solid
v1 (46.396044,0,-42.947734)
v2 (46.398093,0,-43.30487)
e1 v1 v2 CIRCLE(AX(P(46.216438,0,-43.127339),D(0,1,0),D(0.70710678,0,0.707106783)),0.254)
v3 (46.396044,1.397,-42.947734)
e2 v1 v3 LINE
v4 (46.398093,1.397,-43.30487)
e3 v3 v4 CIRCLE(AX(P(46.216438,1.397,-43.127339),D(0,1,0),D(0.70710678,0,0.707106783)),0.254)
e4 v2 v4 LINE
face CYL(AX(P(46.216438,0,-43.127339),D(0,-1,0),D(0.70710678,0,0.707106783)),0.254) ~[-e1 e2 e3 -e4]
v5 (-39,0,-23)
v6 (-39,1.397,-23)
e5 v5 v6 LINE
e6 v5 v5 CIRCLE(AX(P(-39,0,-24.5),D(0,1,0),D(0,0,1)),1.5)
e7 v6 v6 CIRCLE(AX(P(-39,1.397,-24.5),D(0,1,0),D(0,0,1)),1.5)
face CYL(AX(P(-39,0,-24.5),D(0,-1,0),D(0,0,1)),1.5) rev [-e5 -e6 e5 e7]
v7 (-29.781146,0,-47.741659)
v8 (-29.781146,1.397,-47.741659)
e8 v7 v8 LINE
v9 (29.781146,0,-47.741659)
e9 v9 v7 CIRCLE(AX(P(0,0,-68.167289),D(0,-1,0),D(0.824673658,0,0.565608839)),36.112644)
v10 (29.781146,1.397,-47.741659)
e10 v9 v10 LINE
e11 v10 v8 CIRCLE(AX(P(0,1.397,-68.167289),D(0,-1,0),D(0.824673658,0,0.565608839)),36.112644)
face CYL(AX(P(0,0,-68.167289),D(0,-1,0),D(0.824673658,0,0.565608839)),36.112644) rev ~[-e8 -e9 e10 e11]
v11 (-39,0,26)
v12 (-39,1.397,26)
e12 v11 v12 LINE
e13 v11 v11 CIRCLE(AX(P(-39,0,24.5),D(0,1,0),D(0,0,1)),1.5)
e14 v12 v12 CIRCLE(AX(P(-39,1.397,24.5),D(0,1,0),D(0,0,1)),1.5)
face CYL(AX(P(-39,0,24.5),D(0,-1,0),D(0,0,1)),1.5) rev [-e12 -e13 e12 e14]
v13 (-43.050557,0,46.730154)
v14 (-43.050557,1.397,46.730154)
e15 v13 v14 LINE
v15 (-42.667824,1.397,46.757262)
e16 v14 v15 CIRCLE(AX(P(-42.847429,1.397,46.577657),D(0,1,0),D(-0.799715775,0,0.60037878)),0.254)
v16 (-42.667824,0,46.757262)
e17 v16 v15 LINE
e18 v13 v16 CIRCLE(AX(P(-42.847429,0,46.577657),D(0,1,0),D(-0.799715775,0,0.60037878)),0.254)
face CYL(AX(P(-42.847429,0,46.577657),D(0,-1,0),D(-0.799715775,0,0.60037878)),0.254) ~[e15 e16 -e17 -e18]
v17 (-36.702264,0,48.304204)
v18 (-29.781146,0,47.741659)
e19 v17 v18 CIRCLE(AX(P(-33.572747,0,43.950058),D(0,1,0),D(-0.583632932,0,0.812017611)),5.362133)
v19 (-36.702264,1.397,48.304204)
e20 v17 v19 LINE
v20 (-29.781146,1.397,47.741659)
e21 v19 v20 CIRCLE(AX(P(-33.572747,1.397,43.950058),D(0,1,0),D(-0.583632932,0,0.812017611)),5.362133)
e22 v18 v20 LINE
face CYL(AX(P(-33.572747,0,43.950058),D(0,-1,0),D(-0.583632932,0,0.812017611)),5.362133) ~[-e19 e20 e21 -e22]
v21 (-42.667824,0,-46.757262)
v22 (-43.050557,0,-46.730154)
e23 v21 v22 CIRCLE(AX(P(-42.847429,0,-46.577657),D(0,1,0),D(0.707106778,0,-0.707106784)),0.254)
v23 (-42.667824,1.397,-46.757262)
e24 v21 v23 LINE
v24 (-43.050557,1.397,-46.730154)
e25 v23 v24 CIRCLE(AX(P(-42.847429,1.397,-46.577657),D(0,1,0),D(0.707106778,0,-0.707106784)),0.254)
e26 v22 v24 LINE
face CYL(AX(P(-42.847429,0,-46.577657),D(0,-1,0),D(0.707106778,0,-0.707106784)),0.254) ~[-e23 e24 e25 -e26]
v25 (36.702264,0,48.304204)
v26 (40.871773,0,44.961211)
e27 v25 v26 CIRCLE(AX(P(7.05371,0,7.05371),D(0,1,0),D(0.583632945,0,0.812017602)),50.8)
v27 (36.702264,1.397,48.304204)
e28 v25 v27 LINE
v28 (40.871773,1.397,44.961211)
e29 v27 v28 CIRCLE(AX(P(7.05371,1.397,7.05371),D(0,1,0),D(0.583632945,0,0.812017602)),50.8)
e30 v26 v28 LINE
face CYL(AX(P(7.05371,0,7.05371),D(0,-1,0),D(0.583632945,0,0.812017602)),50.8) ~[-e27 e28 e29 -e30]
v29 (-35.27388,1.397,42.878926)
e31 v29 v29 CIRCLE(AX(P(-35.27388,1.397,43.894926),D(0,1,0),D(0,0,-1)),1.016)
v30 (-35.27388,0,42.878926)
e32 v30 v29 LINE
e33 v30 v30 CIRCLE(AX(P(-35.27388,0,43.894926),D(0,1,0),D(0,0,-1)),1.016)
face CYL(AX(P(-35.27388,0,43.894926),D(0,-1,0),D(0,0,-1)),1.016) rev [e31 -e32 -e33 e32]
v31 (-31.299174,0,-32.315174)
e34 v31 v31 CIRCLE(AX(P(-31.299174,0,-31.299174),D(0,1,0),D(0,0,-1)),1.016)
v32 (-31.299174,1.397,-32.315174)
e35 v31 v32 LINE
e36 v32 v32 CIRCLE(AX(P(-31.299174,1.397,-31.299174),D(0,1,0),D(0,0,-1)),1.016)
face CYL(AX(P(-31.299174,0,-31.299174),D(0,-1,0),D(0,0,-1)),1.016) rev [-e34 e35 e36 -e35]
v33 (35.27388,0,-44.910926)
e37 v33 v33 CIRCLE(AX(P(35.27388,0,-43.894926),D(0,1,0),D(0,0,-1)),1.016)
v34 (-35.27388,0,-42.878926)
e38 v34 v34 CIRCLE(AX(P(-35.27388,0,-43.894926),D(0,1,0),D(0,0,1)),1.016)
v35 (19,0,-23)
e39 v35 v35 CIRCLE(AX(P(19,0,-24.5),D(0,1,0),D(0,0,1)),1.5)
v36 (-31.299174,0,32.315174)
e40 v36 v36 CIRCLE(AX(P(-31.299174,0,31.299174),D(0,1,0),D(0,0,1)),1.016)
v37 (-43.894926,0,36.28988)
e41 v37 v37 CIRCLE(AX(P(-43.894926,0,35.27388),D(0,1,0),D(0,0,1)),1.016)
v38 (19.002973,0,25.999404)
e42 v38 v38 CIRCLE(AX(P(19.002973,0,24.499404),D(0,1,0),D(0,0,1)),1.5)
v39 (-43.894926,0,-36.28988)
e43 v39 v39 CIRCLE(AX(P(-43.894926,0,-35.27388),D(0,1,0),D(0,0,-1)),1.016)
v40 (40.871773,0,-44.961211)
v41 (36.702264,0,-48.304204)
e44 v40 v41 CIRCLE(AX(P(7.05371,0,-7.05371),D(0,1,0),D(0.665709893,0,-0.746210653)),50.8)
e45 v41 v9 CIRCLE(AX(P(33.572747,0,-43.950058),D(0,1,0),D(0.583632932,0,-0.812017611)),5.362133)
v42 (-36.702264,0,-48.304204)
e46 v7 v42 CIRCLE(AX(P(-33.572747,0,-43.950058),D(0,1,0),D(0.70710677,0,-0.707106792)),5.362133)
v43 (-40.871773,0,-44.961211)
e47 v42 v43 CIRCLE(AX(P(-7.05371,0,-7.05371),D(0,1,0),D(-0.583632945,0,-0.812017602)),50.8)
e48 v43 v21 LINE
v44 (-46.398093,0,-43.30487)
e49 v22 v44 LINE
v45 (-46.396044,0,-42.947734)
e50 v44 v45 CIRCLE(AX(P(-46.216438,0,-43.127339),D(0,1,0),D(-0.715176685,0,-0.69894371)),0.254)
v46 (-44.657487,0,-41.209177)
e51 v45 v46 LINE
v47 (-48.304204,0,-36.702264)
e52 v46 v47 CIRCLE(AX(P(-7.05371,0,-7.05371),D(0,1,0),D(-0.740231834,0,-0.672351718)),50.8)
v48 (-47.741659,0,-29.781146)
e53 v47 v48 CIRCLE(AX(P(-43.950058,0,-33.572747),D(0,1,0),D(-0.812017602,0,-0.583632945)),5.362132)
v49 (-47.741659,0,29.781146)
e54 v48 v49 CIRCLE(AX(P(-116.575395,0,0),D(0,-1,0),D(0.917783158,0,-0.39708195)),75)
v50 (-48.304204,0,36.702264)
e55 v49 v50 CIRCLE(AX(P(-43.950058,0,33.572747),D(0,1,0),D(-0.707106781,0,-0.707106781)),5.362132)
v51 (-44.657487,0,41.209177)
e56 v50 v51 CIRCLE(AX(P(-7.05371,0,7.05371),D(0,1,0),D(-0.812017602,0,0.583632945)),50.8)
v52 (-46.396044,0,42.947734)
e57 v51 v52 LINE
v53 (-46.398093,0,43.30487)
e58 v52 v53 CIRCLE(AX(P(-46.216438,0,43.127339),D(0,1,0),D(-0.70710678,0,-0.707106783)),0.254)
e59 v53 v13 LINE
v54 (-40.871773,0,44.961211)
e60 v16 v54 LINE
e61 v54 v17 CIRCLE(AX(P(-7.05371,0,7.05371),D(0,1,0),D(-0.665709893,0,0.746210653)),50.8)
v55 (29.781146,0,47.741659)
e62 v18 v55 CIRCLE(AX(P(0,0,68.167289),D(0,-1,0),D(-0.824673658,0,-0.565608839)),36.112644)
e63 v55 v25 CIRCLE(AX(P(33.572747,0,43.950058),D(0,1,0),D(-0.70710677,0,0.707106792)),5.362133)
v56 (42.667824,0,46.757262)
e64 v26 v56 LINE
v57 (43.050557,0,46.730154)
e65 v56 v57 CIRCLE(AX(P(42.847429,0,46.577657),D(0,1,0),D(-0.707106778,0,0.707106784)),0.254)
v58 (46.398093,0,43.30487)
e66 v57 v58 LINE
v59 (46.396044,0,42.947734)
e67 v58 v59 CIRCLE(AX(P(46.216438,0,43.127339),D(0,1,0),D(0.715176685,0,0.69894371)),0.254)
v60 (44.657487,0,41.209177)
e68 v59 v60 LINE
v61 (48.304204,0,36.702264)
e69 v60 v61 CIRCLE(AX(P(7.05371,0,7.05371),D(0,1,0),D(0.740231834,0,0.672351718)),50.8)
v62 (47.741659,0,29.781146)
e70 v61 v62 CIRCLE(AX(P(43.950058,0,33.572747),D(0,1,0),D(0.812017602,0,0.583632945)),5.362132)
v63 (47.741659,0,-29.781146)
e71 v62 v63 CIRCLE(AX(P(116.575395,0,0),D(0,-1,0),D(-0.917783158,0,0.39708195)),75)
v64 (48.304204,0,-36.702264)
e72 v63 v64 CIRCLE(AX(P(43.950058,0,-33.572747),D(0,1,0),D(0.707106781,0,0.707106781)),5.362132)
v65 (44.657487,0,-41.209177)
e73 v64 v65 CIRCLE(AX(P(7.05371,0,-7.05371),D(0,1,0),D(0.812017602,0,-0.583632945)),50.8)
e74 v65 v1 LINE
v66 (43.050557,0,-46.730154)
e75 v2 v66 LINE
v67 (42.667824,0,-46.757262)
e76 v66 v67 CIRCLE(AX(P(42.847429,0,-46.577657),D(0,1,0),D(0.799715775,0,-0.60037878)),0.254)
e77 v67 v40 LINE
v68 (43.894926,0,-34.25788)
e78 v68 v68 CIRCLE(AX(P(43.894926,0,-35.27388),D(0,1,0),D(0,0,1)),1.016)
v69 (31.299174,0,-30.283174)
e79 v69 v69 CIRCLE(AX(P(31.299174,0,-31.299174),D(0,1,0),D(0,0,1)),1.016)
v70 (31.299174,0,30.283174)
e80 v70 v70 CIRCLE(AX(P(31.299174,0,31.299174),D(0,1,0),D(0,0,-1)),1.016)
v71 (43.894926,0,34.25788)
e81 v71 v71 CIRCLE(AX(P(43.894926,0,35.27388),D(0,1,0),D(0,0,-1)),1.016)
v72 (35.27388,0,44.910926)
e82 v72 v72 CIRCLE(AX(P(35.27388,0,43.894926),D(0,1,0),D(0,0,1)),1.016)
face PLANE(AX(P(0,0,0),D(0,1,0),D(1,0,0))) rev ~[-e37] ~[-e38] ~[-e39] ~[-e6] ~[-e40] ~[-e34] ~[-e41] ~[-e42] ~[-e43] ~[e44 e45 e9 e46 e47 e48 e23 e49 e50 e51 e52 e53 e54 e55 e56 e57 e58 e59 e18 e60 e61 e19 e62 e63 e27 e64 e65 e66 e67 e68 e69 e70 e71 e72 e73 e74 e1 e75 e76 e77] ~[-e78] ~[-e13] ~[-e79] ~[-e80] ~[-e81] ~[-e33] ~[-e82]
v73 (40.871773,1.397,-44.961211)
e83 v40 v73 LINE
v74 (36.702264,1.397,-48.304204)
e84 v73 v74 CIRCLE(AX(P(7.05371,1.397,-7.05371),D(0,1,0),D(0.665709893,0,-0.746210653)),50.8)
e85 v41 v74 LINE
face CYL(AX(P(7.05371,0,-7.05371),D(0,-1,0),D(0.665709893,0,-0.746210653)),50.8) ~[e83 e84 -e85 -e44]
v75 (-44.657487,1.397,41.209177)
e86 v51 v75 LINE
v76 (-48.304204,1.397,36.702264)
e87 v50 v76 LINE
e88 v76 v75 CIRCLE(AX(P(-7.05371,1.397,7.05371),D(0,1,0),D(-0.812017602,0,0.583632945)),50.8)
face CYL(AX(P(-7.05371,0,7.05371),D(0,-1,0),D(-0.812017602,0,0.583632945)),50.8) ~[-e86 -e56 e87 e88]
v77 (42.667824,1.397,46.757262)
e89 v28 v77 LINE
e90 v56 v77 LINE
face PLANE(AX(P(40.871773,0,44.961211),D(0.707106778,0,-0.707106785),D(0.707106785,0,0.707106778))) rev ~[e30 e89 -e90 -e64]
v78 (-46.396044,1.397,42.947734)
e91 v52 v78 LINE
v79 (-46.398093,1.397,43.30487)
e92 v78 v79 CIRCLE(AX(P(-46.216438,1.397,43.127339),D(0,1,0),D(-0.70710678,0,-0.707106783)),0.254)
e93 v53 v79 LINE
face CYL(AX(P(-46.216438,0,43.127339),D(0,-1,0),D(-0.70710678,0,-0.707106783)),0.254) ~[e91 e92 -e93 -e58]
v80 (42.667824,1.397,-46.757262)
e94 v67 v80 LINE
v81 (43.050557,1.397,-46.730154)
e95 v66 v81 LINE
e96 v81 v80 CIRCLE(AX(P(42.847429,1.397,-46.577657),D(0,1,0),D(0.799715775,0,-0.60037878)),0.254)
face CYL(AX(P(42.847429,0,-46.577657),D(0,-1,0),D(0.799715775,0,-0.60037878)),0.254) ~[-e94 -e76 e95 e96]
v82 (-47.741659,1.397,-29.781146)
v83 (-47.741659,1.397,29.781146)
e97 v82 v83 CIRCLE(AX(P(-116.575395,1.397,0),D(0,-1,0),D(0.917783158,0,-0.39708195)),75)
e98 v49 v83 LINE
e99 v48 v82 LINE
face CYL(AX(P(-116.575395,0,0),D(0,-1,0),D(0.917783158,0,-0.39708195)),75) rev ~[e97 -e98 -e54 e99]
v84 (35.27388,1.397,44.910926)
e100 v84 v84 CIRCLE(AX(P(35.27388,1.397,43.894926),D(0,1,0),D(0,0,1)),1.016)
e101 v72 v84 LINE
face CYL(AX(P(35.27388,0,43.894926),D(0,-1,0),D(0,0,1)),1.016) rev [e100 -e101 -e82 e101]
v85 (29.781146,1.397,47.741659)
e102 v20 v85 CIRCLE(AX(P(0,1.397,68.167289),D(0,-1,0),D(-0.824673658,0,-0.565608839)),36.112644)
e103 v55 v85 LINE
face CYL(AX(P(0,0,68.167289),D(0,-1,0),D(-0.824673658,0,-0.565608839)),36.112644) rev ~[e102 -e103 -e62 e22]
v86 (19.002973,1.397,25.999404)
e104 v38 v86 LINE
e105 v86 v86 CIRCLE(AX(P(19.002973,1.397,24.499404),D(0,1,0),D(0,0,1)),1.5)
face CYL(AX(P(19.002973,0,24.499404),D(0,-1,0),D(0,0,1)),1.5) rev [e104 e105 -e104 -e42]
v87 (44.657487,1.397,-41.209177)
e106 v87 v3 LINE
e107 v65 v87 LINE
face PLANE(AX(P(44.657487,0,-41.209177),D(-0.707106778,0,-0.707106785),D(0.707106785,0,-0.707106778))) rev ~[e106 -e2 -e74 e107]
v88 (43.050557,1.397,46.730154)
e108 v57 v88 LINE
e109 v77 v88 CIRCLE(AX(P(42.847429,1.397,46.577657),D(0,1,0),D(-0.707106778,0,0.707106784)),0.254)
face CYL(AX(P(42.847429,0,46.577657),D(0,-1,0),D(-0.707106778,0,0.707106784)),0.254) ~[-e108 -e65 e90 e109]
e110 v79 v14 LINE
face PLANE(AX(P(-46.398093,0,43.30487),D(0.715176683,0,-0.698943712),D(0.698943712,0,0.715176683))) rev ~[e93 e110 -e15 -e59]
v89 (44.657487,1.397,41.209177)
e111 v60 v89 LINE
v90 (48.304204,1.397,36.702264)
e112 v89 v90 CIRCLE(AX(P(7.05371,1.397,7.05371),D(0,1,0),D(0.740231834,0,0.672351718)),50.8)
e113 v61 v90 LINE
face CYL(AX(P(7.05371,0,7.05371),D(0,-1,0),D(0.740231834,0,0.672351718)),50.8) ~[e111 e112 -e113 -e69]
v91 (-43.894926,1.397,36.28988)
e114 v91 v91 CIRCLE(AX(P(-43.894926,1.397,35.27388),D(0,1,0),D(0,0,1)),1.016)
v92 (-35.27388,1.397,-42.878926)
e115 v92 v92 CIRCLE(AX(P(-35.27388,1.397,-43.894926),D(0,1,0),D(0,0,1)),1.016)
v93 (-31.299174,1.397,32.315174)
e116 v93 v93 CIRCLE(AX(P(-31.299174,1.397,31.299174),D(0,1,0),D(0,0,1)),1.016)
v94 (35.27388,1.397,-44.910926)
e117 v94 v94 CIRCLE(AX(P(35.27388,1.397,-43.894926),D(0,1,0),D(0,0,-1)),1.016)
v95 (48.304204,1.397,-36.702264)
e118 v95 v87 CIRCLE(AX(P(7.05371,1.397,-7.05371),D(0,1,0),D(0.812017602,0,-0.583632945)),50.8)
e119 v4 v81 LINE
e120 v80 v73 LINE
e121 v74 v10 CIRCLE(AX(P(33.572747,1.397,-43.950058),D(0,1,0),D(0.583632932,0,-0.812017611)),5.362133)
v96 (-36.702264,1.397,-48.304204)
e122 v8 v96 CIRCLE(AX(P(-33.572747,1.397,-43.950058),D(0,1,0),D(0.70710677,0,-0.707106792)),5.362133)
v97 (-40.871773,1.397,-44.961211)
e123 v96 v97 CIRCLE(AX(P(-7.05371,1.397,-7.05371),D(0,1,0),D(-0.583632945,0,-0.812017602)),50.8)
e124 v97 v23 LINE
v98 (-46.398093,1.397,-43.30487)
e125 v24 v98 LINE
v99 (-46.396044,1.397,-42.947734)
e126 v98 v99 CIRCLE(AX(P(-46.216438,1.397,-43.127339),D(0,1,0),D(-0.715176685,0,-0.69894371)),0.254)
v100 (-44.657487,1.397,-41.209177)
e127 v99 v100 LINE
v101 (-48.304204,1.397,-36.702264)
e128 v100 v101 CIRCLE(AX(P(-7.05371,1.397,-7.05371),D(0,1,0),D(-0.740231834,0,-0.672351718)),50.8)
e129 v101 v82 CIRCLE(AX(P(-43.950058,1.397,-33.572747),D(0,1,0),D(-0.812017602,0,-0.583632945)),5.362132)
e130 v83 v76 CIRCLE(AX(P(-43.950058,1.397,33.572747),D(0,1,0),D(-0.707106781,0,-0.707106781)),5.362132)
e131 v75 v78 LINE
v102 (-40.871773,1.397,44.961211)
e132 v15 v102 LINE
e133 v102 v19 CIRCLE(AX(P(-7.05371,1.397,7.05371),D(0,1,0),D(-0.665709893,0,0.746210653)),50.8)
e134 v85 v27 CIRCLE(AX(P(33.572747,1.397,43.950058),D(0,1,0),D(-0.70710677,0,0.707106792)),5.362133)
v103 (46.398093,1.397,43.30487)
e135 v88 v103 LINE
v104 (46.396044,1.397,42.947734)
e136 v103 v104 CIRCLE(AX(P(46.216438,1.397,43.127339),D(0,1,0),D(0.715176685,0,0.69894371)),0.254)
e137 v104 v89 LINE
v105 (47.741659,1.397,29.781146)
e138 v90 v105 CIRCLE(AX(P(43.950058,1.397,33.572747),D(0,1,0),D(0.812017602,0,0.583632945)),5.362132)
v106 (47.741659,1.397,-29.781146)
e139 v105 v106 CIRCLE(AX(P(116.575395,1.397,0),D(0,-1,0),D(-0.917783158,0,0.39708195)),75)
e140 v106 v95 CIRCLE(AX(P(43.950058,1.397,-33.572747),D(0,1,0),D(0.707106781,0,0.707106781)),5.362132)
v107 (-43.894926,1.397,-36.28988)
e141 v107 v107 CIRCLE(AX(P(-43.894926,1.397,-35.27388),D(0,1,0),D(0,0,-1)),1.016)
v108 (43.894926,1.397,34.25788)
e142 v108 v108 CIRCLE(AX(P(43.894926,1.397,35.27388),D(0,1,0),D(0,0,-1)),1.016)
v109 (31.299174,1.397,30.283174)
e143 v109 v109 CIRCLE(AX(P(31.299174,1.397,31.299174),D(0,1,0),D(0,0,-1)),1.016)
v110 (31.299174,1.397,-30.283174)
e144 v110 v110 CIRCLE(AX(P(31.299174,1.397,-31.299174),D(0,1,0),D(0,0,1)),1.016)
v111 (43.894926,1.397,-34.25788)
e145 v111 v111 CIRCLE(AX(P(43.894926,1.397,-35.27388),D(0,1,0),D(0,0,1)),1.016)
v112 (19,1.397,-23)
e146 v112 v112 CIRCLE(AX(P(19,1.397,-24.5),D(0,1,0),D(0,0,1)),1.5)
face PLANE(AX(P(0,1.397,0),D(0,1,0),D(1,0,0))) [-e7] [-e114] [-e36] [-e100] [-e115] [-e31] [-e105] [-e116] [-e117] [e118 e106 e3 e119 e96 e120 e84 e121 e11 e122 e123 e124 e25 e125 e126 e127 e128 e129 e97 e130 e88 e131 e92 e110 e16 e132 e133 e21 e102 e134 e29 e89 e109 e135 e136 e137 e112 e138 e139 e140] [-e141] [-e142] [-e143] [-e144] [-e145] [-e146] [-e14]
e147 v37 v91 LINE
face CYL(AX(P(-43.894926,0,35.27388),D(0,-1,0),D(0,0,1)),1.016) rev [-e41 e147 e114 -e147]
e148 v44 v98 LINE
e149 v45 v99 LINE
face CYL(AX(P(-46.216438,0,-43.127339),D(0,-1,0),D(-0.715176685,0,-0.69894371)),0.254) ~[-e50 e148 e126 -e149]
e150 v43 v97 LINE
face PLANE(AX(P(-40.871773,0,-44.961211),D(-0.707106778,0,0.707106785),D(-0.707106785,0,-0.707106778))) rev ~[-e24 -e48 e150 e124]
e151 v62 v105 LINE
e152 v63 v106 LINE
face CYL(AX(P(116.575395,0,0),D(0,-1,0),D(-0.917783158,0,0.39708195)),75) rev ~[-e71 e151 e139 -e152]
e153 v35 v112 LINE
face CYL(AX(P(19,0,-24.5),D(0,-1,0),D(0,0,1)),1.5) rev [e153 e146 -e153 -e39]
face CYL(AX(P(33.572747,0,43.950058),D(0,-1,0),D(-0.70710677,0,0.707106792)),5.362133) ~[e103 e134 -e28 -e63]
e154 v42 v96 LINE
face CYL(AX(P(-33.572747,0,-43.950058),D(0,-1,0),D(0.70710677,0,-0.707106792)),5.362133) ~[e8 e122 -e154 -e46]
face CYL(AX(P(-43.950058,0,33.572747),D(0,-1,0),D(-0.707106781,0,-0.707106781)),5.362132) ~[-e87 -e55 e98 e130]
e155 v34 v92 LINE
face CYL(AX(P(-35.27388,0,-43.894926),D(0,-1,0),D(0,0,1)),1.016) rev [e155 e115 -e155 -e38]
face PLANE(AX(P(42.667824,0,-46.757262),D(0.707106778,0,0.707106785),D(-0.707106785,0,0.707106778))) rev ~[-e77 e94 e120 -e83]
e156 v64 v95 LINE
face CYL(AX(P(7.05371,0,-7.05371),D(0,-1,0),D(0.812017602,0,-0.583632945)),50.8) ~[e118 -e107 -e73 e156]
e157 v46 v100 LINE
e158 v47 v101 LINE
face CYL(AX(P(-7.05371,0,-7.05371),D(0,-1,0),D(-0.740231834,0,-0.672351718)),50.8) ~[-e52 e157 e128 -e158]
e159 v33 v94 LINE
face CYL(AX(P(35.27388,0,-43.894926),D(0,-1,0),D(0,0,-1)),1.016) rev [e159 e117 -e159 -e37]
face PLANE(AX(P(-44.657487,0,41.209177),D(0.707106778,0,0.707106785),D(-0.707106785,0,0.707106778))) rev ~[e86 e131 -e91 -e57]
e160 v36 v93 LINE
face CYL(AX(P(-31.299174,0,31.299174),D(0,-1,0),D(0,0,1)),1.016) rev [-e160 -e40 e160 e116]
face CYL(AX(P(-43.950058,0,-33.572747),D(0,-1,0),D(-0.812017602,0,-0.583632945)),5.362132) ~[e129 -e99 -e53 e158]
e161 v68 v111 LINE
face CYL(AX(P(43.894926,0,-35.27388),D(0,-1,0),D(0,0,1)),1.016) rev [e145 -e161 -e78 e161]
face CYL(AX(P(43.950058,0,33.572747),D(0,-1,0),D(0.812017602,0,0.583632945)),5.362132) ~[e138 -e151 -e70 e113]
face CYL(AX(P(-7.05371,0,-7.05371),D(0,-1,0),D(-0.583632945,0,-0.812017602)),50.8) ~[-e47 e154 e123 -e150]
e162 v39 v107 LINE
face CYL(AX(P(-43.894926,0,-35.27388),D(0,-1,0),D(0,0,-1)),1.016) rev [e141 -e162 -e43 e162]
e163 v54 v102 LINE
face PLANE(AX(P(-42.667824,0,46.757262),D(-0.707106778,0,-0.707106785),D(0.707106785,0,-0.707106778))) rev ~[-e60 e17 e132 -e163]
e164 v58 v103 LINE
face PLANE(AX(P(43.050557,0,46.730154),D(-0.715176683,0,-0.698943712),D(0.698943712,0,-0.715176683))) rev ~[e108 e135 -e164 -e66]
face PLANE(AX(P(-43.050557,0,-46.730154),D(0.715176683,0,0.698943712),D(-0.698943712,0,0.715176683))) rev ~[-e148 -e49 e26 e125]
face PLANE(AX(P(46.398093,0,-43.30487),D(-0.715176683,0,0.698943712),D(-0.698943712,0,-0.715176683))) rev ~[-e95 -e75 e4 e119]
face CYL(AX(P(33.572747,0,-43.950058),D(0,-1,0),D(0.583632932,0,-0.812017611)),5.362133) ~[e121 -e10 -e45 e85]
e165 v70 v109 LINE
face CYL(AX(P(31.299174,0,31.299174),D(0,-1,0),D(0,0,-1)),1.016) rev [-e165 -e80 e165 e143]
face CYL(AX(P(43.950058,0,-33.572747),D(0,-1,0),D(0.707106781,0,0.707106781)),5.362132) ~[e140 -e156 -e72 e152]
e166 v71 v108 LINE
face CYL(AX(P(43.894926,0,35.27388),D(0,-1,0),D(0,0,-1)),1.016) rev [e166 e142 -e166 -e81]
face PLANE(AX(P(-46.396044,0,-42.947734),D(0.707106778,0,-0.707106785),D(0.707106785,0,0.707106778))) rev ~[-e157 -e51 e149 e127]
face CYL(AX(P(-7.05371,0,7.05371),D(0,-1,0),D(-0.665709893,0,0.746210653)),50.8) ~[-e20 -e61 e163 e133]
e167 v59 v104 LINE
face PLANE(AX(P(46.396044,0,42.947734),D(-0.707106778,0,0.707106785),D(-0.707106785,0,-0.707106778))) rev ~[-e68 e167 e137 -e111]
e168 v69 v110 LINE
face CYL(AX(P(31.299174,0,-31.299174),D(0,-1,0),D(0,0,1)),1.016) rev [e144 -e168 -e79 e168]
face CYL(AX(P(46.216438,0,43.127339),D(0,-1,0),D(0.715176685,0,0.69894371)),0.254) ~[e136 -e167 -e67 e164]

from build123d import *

# Parameters (mm, degrees)
SKETCH1_R           = 1.015999988
SKETCH1_R_2         = 1.5
BOSS_EXTRUDE1_DEPTH = 1.397


with BuildPart() as part:
    # Sketch1 → Boss-Extrude1 (new body)
    with BuildSketch(Plane(origin=(0, 0, 0), x_dir=(1, 0, 0), z_dir=(0, 1, 0))):
        with BuildLine():
            Line((-44.657487237, -41.209177315), (-46.396043568, -42.947733628))
            ThreePointArc((-46.396043568, -42.947733628), (-46.470434263, -43.125880965), (-46.398093324, -43.304870455))
            Line((-46.398093324, -43.304870455), (-43.050556795, -46.730153534))
            ThreePointArc((-43.050556795, -46.730153534), (-42.865374809, -46.831022569), (-42.667823867, -46.757262447))
            Line((-42.667823867, -46.757262447), (-40.871772634, -44.961211232))
            ThreePointArc((-40.871772634, -44.961211232), (-38.831009245, -46.687575098), (-36.702263685, -48.30420423))
            ThreePointArc((-36.702263685, -48.30420423), (-33.138347002, -49.294565873), (-29.78114627, -47.741658512))
            ThreePointArc((-29.78114627, -47.741658512), (0, -32.054645119), (29.78114627, -47.741658512))
            ThreePointArc((29.78114627, -47.741658512), (33.138347002, -49.294565873), (36.702263685, -48.30420423))
            ThreePointArc((36.702263685, -48.30420423), (38.831009245, -46.687575098), (40.871772634, -44.961211232))
            Line((40.871772634, -44.961211232), (42.667823867, -46.757262447))
            ThreePointArc((42.667823867, -46.757262447), (42.865374809, -46.831022569), (43.050556795, -46.730153534))
            Line((43.050556795, -46.730153534), (46.398093324, -43.304870455))
            ThreePointArc((46.398093324, -43.304870455), (46.470434263, -43.125880965), (46.396043568, -42.947733628))
            Line((46.396043568, -42.947733628), (44.657487237, -41.209177315))
            ThreePointArc((44.657487237, -41.209177315), (46.545191357, -39.007785017), (48.30420423, -36.702263685))
            ThreePointArc((48.30420423, -36.702263685), (49.294565905, -33.13834702), (47.741658512, -29.78114627))
            ThreePointArc((47.741658512, -29.78114627), (41.575395348, 0), (47.741658512, 29.78114627))
            ThreePointArc((47.741658512, 29.78114627), (49.294565905, 33.13834702), (48.30420423, 36.702263685))
            ThreePointArc((48.30420423, 36.702263685), (46.545191357, 39.007785017), (44.657487237, 41.209177315))
            Line((44.657487237, 41.209177315), (46.396043568, 42.947733628))
            ThreePointArc((46.396043568, 42.947733628), (46.470434263, 43.125880965), (46.398093324, 43.304870455))
            Line((46.398093324, 43.304870455), (43.050556795, 46.730153534))
            ThreePointArc((43.050556795, 46.730153534), (42.865374809, 46.831022569), (42.667823867, 46.757262447))
            Line((42.667823867, 46.757262447), (40.871772634, 44.961211232))
            ThreePointArc((40.871772634, 44.961211232), (38.831009245, 46.687575098), (36.702263685, 48.30420423))
            ThreePointArc((36.702263685, 48.30420423), (33.138347002, 49.294565873), (29.78114627, 47.741658512))
            ThreePointArc((29.78114627, 47.741658512), (0, 32.054645119), (-29.78114627, 47.741658512))
            ThreePointArc((-29.78114627, 47.741658512), (-33.138347002, 49.294565873), (-36.702263685, 48.30420423))
            ThreePointArc((-36.702263685, 48.30420423), (-38.831009245, 46.687575098), (-40.871772634, 44.961211232))
            Line((-40.871772634, 44.961211232), (-42.667823867, 46.757262447))
            ThreePointArc((-42.667823867, 46.757262447), (-42.865374809, 46.831022569), (-43.050556795, 46.730153534))
            Line((-43.050556795, 46.730153534), (-46.398093324, 43.304870455))
            ThreePointArc((-46.398093324, 43.304870455), (-46.470434263, 43.125880965), (-46.396043568, 42.947733628))
            Line((-46.396043568, 42.947733628), (-44.657487237, 41.209177315))
            ThreePointArc((-44.657487237, 41.209177315), (-46.545191357, 39.007785017), (-48.30420423, 36.702263685))
            ThreePointArc((-48.30420423, 36.702263685), (-49.294565905, 33.13834702), (-47.741658512, 29.78114627))
            ThreePointArc((-47.741658512, 29.78114627), (-41.575395348, 0), (-47.741658512, -29.78114627))
            ThreePointArc((-47.741658512, -29.78114627), (-49.294565905, -33.13834702), (-48.30420423, -36.702263685))
            ThreePointArc((-48.30420423, -36.702263685), (-46.545191357, -39.007785017), (-44.657487237, -41.209177315))
        make_face()
        with Locations(Location((-35.273880272, -43.89492624, 0), (0, 0, 90))):
            Circle(SKETCH1_R, mode=Mode.SUBTRACT)
        with Locations(Location((-43.894926149, -35.273880364, 0), (0, 0, 270))):
            Circle(SKETCH1_R, mode=Mode.SUBTRACT)
        with Locations(Location((-31.299173944, -31.299174035, 0), (0, 0, 270))):
            Circle(SKETCH1_R, mode=Mode.SUBTRACT)
        with Locations(Location((43.894926149, -35.273880364, 0), (0, 0, 90))):
            Circle(SKETCH1_R, mode=Mode.SUBTRACT)
        with Locations(Location((35.273880272, -43.89492624, 0), (0, 0, 270))):
            Circle(SKETCH1_R, mode=Mode.SUBTRACT)
        with Locations(Location((31.299173944, -31.299174035, 0), (0, 0, 90))):
            Circle(SKETCH1_R, mode=Mode.SUBTRACT)
        with Locations(Location((-35.273880272, 43.89492624, 0), (0, 0, 270))):
            Circle(SKETCH1_R, mode=Mode.SUBTRACT)
        with Locations(Location((-31.299173944, 31.299174035, 0), (0, 0, 90))):
            Circle(SKETCH1_R, mode=Mode.SUBTRACT)
        with Locations(Location((-43.894926149, 35.273880364, 0), (0, 0, 90))):
            Circle(SKETCH1_R, mode=Mode.SUBTRACT)
        with Locations(Location((43.894926149, 35.273880364, 0), (0, 0, 270))):
            Circle(SKETCH1_R, mode=Mode.SUBTRACT)
        with Locations(Location((35.273880272, 43.89492624, 0), (0, 0, 90))):
            Circle(SKETCH1_R, mode=Mode.SUBTRACT)
        with Locations(Location((31.299173944, 31.299174035, 0), (0, 0, 270))):
            Circle(SKETCH1_R, mode=Mode.SUBTRACT)
        with Locations(Location((-39, 24.5, 0), (0, 0, 270))):
            Circle(SKETCH1_R_2, mode=Mode.SUBTRACT)
        with Locations(Location((19, 24.5, 0), (0, 0, 270))):
            Circle(SKETCH1_R_2, mode=Mode.SUBTRACT)
        with Locations(Location((19.002972949, -24.499403884, 0), (0, 0, 270))):
            Circle(SKETCH1_R_2, mode=Mode.SUBTRACT)
        with Locations(Location((-39, -24.5, 0), (0, 0, 270))):
            Circle(SKETCH1_R_2, mode=Mode.SUBTRACT)
    extrude(amount=BOSS_EXTRUDE1_DEPTH)


solid = part.part
